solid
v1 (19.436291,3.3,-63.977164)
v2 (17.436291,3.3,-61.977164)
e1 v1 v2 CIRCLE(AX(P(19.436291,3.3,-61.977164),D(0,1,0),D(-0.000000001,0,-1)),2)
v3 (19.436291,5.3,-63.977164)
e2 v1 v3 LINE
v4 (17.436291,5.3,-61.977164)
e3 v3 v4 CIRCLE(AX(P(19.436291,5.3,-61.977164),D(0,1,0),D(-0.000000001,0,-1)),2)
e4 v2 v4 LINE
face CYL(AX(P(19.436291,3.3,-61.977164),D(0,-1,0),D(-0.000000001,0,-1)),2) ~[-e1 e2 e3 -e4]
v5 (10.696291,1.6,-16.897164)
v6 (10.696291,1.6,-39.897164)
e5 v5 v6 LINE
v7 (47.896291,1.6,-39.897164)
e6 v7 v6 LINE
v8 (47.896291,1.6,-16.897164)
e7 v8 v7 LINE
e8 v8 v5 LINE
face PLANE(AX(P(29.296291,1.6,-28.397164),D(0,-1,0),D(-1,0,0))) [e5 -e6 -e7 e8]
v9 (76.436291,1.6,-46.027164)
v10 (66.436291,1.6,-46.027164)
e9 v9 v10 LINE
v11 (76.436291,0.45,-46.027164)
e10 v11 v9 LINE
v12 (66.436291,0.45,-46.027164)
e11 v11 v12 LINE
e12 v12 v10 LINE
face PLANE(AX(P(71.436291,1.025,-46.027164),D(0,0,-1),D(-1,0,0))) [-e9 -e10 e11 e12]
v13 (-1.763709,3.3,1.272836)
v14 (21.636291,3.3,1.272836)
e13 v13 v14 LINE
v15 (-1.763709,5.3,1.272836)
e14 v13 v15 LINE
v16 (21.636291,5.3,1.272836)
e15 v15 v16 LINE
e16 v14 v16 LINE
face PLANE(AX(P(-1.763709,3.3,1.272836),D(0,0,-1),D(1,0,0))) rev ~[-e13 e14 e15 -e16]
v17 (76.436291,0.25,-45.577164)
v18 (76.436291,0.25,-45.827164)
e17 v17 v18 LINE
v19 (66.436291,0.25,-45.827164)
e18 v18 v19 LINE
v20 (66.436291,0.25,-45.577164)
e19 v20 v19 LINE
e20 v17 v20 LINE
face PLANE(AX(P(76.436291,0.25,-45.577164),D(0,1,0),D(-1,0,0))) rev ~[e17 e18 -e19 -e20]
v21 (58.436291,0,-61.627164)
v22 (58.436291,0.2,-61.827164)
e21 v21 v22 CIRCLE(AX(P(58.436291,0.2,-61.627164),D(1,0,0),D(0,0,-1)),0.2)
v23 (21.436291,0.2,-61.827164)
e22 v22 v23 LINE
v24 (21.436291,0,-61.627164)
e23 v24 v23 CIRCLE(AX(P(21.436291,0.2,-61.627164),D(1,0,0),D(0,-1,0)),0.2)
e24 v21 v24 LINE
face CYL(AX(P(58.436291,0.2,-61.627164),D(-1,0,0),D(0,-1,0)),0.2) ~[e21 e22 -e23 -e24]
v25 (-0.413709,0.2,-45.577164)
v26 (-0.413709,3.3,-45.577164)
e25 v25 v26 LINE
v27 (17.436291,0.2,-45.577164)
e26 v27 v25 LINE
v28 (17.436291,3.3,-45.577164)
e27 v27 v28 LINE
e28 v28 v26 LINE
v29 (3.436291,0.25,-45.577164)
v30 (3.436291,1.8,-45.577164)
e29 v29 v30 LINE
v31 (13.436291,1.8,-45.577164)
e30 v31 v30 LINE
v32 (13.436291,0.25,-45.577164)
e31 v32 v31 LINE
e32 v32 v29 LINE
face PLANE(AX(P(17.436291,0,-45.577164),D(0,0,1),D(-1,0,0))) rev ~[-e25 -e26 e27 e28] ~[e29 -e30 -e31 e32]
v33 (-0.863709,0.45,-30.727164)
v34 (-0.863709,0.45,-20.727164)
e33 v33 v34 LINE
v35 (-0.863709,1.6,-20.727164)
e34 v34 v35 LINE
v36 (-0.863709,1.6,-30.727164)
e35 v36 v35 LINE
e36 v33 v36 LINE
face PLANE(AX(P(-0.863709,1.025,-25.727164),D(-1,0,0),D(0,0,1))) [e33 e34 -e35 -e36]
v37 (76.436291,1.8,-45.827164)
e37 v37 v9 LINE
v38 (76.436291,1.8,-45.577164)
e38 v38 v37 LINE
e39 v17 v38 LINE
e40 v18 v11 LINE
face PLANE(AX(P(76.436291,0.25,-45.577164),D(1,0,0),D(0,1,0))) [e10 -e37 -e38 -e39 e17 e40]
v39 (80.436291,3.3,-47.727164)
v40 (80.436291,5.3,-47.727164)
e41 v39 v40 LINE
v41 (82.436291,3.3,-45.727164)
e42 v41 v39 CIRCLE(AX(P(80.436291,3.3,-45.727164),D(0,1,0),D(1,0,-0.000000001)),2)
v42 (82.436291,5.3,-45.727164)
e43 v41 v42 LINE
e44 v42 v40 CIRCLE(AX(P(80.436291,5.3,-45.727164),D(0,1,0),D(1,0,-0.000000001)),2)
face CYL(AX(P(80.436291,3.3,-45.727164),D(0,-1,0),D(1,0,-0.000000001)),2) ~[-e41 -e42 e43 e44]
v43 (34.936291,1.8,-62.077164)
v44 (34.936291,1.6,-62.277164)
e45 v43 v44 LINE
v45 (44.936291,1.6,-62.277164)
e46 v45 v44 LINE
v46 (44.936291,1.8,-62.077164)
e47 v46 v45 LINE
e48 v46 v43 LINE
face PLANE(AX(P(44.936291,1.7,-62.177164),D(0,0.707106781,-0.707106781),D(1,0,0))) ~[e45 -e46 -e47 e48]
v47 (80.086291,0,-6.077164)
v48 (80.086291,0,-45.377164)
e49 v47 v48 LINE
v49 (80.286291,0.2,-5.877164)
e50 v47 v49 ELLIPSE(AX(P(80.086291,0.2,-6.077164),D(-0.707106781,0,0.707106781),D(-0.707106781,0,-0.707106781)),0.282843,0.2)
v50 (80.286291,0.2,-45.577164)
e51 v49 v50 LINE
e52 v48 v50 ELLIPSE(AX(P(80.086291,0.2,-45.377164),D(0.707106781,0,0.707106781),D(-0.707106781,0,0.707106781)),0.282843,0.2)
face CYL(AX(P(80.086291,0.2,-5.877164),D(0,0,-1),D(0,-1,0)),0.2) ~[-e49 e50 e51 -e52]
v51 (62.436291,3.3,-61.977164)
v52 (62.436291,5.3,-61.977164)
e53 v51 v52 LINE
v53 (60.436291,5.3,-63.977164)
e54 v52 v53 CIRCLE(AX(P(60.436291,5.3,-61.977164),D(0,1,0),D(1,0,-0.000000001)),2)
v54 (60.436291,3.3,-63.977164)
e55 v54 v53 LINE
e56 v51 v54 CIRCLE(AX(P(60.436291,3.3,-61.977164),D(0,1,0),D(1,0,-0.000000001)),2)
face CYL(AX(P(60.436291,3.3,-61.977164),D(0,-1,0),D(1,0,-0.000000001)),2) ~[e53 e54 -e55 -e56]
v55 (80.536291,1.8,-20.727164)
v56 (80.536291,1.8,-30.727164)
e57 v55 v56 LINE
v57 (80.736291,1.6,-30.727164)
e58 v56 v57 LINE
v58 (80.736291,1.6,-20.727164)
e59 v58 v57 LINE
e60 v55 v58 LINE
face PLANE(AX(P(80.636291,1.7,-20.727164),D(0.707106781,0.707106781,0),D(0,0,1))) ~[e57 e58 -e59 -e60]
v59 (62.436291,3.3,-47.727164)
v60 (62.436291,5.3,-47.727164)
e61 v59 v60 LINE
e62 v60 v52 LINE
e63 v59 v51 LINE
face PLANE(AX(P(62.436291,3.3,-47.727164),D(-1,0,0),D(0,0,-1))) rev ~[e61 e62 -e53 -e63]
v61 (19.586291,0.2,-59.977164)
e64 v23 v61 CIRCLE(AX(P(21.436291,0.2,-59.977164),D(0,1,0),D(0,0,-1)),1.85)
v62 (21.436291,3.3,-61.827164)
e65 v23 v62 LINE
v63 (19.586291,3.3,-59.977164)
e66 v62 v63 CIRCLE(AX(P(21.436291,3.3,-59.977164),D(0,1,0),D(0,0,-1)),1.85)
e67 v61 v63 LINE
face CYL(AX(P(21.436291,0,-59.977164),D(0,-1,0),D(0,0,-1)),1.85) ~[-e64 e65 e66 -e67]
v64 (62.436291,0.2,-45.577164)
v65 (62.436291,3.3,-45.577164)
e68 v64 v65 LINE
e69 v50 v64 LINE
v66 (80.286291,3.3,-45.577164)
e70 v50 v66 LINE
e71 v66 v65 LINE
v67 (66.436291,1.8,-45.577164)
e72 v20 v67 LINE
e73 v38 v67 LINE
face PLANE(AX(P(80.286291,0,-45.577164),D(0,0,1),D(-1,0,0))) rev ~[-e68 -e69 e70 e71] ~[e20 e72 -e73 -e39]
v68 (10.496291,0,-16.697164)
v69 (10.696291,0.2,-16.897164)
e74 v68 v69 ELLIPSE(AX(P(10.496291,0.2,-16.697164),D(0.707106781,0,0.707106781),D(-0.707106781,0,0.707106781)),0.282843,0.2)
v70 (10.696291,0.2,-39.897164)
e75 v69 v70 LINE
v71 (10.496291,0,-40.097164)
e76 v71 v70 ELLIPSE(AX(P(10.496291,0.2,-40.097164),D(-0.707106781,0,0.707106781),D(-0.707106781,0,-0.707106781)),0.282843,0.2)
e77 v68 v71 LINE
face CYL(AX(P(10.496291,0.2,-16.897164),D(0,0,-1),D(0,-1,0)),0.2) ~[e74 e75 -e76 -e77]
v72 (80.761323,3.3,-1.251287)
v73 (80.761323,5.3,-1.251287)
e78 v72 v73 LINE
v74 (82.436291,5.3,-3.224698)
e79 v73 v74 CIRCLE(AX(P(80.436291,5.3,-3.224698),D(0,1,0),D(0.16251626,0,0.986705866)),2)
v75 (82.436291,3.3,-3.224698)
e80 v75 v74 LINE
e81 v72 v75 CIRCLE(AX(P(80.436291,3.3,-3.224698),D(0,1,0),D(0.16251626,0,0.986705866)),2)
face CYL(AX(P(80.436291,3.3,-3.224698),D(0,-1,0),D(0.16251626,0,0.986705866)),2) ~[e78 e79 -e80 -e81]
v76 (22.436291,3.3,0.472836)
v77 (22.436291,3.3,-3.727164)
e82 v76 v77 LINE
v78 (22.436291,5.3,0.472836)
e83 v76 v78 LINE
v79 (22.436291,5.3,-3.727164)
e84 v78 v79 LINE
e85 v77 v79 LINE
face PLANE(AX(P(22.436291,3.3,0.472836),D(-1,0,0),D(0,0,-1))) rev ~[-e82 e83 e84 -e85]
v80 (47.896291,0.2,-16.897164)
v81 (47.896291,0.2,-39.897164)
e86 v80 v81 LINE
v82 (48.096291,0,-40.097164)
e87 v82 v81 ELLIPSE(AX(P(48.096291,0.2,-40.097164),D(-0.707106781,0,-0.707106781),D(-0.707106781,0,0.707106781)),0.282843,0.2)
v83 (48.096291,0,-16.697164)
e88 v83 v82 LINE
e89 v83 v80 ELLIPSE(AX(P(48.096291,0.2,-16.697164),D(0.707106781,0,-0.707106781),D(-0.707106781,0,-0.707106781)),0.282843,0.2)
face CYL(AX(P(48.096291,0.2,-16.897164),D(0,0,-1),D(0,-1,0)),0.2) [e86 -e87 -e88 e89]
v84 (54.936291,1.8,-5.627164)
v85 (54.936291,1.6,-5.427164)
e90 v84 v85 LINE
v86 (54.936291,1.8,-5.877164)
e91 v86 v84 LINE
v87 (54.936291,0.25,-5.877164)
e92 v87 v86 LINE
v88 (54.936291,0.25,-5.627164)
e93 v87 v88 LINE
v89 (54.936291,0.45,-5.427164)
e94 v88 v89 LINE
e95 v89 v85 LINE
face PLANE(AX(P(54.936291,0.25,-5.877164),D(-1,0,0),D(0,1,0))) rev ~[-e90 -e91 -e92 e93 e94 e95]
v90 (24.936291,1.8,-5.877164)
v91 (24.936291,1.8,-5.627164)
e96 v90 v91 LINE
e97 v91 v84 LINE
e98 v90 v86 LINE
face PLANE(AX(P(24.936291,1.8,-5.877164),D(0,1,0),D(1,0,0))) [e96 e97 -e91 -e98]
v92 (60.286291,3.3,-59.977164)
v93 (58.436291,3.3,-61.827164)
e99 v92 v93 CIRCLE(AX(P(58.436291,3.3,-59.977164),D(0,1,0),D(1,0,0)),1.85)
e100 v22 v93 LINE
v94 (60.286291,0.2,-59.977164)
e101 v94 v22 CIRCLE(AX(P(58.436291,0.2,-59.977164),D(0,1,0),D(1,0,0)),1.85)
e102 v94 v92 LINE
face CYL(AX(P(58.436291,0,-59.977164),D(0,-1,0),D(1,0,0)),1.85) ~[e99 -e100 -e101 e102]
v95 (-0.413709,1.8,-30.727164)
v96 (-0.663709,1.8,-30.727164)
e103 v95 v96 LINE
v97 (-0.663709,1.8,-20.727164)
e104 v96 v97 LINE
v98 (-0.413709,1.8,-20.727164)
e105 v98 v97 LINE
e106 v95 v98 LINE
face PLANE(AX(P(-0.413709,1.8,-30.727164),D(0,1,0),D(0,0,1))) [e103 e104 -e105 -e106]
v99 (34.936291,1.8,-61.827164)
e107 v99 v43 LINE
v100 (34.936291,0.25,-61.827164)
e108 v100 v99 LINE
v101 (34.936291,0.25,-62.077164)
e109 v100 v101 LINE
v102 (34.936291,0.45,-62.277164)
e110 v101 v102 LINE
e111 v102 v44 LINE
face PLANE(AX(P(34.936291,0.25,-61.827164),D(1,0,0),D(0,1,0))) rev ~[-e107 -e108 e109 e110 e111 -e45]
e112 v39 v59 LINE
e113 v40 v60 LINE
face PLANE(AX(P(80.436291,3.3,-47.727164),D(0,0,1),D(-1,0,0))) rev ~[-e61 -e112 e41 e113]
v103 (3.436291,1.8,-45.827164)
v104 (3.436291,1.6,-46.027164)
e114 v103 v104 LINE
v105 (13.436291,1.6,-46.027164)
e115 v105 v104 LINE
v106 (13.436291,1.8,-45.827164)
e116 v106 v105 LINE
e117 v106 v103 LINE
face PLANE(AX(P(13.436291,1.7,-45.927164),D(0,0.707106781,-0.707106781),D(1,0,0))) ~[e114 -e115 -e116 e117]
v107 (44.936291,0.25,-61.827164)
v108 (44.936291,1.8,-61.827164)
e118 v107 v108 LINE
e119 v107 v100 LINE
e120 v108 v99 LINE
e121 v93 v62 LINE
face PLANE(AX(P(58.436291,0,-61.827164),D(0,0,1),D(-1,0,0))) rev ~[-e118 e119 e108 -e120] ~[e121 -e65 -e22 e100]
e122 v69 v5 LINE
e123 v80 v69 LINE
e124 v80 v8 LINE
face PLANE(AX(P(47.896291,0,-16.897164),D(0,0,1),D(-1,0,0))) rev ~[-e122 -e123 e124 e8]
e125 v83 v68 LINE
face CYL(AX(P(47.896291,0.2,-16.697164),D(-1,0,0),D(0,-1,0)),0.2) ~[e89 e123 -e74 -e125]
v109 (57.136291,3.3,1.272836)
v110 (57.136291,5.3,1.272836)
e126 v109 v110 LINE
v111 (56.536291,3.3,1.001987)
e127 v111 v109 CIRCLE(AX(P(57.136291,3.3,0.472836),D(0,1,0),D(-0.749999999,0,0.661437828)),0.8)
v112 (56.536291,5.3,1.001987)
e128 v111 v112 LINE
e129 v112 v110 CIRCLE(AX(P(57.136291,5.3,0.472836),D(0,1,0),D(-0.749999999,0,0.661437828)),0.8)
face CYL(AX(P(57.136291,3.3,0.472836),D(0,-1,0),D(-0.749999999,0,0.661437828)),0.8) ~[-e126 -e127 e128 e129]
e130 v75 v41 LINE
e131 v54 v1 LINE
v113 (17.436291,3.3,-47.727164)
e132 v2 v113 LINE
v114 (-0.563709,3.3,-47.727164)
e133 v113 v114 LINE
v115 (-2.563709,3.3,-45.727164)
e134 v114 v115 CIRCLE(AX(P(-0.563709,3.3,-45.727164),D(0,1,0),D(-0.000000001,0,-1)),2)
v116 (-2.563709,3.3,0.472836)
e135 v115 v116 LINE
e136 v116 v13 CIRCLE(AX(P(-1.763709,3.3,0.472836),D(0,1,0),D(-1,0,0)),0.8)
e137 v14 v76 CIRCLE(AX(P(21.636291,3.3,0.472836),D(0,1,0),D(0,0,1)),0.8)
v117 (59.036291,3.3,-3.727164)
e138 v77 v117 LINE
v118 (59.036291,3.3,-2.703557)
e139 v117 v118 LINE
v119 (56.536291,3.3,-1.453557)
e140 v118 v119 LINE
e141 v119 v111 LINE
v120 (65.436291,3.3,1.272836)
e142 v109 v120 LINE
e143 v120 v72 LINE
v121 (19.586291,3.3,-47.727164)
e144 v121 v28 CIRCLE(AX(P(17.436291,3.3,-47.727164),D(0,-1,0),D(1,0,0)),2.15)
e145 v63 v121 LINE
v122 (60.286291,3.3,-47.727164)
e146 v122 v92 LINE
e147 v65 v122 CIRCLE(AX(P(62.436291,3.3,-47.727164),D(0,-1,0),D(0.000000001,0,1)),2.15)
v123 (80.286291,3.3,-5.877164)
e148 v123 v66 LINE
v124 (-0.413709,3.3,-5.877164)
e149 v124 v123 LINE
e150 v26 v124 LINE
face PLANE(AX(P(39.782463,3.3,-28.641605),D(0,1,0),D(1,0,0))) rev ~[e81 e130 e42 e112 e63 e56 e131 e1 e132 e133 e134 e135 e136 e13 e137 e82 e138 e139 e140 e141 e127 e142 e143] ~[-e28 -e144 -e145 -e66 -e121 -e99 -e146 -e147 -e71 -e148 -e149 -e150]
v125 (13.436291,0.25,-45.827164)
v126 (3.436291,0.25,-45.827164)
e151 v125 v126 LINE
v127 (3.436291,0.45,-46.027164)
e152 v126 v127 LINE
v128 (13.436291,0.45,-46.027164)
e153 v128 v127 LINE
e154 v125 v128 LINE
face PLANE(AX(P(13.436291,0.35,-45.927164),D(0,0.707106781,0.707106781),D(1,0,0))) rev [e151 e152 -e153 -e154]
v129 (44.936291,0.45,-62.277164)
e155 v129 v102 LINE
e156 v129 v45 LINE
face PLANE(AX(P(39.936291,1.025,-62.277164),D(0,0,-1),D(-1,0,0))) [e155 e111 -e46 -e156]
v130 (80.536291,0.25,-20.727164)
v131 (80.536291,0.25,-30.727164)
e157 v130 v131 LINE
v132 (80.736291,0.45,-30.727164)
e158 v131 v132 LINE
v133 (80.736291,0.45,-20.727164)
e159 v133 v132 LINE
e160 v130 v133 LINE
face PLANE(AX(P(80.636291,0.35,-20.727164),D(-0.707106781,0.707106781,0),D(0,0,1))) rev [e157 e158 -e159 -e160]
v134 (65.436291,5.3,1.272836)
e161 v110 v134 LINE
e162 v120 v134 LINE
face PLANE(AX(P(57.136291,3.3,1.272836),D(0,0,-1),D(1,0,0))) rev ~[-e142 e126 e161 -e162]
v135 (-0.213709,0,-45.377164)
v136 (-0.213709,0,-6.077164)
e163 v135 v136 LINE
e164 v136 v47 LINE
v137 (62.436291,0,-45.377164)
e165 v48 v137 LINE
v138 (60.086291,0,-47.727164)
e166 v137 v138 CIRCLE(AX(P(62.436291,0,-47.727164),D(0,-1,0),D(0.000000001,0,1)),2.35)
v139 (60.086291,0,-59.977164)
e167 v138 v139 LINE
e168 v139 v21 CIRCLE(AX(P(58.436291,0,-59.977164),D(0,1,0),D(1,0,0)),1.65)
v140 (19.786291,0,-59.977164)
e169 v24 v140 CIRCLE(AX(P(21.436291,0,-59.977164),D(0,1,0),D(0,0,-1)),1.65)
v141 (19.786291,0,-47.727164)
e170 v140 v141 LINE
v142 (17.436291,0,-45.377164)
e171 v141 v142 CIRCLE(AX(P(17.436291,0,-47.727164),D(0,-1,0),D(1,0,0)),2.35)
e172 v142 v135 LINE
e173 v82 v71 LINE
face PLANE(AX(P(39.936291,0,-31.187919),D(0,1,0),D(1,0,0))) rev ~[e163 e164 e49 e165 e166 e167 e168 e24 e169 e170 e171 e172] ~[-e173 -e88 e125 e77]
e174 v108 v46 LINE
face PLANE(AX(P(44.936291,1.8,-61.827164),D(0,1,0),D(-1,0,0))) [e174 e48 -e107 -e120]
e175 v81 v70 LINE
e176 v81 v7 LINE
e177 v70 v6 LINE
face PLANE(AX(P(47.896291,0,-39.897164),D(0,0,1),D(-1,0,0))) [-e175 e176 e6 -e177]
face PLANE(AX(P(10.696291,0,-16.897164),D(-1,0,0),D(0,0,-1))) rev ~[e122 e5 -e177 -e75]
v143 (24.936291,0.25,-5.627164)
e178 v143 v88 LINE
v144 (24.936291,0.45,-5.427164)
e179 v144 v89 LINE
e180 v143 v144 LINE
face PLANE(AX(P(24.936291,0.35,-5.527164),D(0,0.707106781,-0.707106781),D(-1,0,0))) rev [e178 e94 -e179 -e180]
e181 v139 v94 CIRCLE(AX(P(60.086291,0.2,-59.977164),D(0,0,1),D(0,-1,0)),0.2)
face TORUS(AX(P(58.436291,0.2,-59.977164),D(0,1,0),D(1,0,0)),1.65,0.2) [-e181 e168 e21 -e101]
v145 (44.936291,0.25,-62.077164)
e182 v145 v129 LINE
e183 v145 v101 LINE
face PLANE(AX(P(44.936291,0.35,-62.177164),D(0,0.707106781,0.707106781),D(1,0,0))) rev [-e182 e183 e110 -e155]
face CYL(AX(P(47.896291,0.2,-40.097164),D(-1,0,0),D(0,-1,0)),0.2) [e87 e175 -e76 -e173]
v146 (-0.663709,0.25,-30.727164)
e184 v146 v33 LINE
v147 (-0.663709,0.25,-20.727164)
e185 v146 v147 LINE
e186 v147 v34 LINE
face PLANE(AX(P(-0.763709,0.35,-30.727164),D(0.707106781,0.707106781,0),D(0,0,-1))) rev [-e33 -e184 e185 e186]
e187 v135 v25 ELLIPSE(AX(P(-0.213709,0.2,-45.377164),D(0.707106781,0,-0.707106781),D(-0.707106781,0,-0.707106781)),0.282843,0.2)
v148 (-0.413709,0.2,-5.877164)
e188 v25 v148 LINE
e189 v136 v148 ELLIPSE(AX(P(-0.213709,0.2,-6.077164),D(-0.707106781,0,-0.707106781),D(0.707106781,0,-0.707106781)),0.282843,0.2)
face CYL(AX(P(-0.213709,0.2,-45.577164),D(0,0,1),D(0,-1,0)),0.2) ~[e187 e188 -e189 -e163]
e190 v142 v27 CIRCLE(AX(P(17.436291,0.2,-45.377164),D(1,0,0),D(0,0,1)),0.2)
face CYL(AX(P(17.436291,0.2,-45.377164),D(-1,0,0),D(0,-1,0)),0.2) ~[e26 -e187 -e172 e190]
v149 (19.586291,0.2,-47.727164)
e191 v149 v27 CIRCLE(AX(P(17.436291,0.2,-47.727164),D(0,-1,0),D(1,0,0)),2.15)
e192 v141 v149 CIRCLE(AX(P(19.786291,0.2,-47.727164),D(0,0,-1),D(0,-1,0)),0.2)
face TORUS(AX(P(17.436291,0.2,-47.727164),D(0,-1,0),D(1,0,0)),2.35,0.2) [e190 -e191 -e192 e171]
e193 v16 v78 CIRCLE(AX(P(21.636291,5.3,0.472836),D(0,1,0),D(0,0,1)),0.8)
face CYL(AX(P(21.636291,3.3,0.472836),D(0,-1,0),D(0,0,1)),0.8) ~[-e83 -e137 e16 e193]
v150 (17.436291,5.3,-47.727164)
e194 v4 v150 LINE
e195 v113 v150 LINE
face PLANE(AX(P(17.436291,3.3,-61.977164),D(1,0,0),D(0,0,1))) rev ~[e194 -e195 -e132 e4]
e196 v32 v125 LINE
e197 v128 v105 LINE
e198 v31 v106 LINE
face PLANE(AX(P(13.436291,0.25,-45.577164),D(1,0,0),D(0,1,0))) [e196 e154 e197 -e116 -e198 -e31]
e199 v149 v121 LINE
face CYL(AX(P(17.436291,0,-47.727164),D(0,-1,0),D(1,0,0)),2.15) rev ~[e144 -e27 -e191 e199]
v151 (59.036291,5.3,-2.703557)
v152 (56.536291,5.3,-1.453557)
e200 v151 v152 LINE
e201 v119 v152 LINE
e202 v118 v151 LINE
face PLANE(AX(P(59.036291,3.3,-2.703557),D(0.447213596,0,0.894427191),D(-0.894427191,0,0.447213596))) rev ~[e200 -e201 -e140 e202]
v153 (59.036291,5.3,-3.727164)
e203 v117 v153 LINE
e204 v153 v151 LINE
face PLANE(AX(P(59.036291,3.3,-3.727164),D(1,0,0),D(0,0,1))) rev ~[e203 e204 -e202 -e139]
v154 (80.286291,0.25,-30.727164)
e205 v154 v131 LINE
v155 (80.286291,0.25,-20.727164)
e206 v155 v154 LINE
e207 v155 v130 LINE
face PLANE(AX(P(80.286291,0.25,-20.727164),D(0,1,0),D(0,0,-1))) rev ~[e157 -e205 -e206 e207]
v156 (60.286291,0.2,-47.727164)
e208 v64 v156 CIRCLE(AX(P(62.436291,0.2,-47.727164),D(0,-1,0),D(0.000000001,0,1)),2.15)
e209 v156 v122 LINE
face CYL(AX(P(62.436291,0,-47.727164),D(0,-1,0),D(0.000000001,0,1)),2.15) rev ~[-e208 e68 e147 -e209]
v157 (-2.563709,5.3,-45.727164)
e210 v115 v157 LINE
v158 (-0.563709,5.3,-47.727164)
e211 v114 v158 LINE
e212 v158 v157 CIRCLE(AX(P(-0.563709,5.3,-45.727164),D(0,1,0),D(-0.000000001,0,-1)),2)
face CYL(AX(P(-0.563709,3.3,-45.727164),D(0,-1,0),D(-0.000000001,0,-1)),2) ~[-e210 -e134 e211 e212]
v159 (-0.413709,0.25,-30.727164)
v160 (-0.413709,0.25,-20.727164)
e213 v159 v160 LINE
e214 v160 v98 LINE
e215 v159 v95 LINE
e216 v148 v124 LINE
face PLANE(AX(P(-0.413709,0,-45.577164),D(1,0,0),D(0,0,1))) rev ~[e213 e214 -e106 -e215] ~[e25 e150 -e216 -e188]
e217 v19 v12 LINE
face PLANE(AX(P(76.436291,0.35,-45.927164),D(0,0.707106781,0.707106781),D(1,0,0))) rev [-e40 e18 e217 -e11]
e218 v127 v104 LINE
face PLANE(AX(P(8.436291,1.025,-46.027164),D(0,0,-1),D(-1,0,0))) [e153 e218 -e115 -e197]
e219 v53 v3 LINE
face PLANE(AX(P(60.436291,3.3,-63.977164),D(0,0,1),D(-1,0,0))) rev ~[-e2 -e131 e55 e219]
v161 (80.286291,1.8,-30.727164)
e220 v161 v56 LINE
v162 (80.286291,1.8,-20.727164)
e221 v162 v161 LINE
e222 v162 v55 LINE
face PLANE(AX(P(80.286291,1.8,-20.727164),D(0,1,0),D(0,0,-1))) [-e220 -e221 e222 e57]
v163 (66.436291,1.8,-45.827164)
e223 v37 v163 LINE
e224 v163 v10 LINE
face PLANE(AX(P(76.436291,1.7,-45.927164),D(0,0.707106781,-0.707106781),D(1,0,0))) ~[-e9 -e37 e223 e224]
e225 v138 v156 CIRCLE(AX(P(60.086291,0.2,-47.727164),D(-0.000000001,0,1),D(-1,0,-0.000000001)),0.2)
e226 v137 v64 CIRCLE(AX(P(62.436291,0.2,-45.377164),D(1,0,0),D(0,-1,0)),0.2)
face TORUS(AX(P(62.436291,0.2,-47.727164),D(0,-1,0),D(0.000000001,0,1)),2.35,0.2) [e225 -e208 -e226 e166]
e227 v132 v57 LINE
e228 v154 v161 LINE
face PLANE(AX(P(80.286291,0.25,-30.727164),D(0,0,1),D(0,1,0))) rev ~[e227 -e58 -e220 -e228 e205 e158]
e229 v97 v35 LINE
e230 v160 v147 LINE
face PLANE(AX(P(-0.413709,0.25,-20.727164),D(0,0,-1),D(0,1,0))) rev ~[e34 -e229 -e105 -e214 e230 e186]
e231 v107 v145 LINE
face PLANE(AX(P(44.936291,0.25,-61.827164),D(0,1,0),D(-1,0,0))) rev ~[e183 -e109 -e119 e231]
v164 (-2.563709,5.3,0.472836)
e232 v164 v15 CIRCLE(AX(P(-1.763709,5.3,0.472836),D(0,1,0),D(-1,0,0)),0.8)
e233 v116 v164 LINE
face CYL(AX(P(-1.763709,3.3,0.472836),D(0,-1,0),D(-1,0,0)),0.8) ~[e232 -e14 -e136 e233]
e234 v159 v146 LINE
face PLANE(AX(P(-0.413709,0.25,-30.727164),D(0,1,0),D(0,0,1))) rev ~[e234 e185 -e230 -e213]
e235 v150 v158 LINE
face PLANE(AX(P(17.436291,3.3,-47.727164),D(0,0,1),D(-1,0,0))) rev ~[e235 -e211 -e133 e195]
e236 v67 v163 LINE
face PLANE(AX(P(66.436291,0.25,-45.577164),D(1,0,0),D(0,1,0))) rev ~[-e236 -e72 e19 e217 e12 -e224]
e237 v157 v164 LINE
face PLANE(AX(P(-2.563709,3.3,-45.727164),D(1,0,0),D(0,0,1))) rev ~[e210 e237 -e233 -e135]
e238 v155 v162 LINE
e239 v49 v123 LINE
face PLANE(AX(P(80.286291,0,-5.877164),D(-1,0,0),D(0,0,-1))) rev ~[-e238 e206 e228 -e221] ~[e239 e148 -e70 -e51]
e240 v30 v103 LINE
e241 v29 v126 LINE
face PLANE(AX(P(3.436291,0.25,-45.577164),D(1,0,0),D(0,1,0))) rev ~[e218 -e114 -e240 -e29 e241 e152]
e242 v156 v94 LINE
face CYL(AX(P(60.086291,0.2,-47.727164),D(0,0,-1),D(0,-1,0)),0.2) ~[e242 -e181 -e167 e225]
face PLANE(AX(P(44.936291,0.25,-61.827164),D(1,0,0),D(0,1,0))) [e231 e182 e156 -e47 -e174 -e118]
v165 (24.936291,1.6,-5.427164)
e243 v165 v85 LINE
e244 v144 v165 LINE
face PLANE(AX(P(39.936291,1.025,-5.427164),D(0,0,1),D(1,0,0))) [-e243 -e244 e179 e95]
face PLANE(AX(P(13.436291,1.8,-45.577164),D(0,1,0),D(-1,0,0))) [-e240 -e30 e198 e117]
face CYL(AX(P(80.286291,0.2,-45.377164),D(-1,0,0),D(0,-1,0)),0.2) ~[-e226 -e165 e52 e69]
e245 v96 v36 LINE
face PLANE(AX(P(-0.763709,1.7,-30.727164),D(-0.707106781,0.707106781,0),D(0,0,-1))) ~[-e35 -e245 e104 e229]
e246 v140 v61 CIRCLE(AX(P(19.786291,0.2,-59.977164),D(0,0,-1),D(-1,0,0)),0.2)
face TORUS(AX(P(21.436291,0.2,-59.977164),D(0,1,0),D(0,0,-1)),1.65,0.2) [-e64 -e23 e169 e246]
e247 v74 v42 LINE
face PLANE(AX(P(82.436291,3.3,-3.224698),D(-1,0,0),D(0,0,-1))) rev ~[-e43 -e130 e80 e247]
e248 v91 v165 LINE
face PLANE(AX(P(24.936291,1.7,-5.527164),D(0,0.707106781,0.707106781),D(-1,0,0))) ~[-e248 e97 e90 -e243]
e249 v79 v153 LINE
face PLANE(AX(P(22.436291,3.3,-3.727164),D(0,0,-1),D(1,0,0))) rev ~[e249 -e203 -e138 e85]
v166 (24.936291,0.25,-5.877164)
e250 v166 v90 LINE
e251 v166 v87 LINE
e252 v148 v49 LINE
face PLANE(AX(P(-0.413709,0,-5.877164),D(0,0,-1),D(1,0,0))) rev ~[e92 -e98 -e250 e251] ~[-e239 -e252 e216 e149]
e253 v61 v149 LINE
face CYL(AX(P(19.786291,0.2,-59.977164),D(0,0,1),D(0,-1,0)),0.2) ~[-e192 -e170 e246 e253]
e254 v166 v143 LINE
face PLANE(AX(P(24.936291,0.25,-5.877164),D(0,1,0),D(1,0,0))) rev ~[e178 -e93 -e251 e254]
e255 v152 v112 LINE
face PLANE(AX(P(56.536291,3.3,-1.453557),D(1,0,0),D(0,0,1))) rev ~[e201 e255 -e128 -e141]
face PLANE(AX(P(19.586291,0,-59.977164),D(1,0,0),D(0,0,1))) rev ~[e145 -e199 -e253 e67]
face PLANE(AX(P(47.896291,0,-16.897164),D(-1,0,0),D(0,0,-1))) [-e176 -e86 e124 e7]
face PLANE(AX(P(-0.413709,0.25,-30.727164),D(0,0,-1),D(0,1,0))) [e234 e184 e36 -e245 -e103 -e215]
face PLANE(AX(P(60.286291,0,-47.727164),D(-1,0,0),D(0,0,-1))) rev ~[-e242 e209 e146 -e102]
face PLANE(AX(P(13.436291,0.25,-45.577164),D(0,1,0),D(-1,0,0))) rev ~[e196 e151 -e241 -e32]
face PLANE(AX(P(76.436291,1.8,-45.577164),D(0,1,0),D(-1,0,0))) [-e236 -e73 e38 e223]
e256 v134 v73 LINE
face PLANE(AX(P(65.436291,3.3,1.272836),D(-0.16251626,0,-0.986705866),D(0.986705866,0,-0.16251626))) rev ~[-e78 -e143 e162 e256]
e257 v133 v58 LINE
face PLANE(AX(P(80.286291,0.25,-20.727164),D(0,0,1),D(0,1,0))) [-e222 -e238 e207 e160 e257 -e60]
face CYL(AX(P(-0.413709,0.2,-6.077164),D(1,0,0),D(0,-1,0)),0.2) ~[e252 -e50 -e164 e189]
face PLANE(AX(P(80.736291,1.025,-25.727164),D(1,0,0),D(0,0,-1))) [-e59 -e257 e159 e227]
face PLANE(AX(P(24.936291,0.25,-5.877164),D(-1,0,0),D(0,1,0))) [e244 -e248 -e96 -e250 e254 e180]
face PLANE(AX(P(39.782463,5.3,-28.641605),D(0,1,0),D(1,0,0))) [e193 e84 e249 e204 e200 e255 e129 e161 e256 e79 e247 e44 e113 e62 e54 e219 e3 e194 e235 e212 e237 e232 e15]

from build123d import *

# Parameters (mm, degrees)
BOSS_EXTRUDE1_DEPTH = 3.3
BOSS_EXTRUDE2_DEPTH = 2
SKETCH5_W           = 10
SKETCH5_H           = 1.55
BOSS_EXTRUDE3_DEPTH = 0.45
SKETCH6_W           = 10
SKETCH6_H           = 1.55
BOSS_EXTRUDE4_DEPTH = 0.45
SKETCH7_W           = 10
SKETCH7_H           = 1.55
BOSS_EXTRUDE5_DEPTH = 0.45
SKETCH8_W           = 10
SKETCH8_H           = 1.55
BOSS_EXTRUDE6_DEPTH = 0.45
SKETCH9_W           = 30
SKETCH9_H           = 1.55
BOSS_EXTRUDE7_DEPTH = 0.45
SKETCH10_W          = 10
SKETCH10_H          = 1.55
BOSS_EXTRUDE8_DEPTH = 0.45
CHAMFER1_SIZE       = 0.2
SKETCH11_W          = 37.2
SKETCH11_H          = 23
CUT_EXTRUDE1_DEPTH  = 1.6
FILLET1_R           = 0.2


with BuildPart() as part:
    # Sketch1 → Boss-Extrude1 (new body)
    with BuildSketch(Plane(origin=(0, 0, 0), x_dir=(1, 0, 0), z_dir=(0, 1, 0))):
        with BuildLine():
            Line((19.586290833, 59.977163541), (19.586290833, 47.727163541))
            ThreePointArc((19.586290833, 47.727163541), (18.956570412, 46.206883961), (17.436290833, 45.577163541))
            Line((17.436290833, 45.577163541), (-0.413709167, 45.577163541))
            Line((-0.413709167, 45.577163541), (-0.413709167, 5.877163541))
            Line((-0.413709167, 5.877163541), (80.286290833, 5.877163541))
            Line((80.286290833, 5.877163541), (80.286290833, 45.577163541))
            Line((80.286290833, 45.577163541), (62.436290833, 45.577163541))
            ThreePointArc((62.436290833, 45.577163541), (60.916011253, 46.206883961), (60.286290833, 47.727163541))
            Line((60.286290833, 47.727163541), (60.286290833, 59.977163541))
            ThreePointArc((60.286290833, 59.977163541), (59.744438378, 61.285311086), (58.436290833, 61.827163541))
            Line((58.436290833, 61.827163541), (21.436290833, 61.827163541))
            ThreePointArc((21.436290833, 61.827163541), (20.128143288, 61.285311086), (19.586290833, 59.977163541))
        make_face()
    extrude(amount=BOSS_EXTRUDE1_DEPTH)

    # Sketch2 → Boss-Extrude2 (add)
    with BuildSketch(Plane(origin=(0, 3.3, 0), x_dir=(1, 0, 0), z_dir=(0, 1, 0))):
        with BuildLine():
            Line((57.136290833, -1.272836459), (65.436290833, -1.272836459))
            Line((65.436290833, -1.272836459), (80.761323353, 1.251286544))
            ThreePointArc((80.761323353, 1.251286544), (81.961096565, 1.930492929), (82.436290833, 3.224698275))
            Line((82.436290833, 3.224698275), (82.436290833, 45.727163541))
            ThreePointArc((82.436290833, 45.727163541), (81.850504395, 47.141377103), (80.436290833, 47.727163541))
            Line((80.436290833, 47.727163541), (66.436290833, 47.727163541))
            Line((66.436290833, 47.727163541), (62.436290833, 47.727163541))
            Line((62.436290833, 47.727163541), (62.436290833, 61.977163541))
            ThreePointArc((62.436290833, 61.977163541), (61.850504395, 63.391377103), (60.436290833, 63.977163541))
            Line((60.436290833, 63.977163541), (19.436290833, 63.977163541))
            ThreePointArc((19.436290833, 63.977163541), (18.022077271, 63.391377103), (17.436290833, 61.977163541))
            Line((17.436290833, 61.977163541), (17.436290833, 47.727163541))
            Line((17.436290833, 47.727163541), (3.436290833, 47.727163541))
            Line((3.436290833, 47.727163541), (-0.563709167, 47.727163541))
            ThreePointArc((-0.563709167, 47.727163541), (-1.977922729, 47.141377103), (-2.563709167, 45.727163541))
            Line((-2.563709167, 45.727163541), (-2.563709167, -0.472836459))
            ThreePointArc((-2.563709167, -0.472836459), (-2.329394592, -1.038521884), (-1.763709167, -1.272836459))
            Line((-1.763709167, -1.272836459), (21.636290833, -1.272836459))
            ThreePointArc((21.636290833, -1.272836459), (22.201976258, -1.038521884), (22.436290833, -0.472836459))
            Line((22.436290833, -0.472836459), (22.436290833, 3.727163541))
            Line((22.436290833, 3.727163541), (59.036290833, 3.727163541))
            Line((59.036290833, 3.727163541), (59.036290833, 2.703556743))
            Line((59.036290833, 2.703556743), (56.536290833, 1.453556743))
            Line((56.536290833, 1.453556743), (56.536290833, -1.001986721))
            ThreePointArc((56.536290833, -1.001986721), (56.807140571, -1.201986721), (57.136290833, -1.272836459))
        make_face()
    extrude(amount=BOSS_EXTRUDE2_DEPTH)

    # Sketch5 → Boss-Extrude3 (add)
    with BuildSketch(Plane(origin=(0, 0, -45.577163541), x_dir=(-1, 0, 0), z_dir=(0, 0, -1))):
        with Locations((-71.436290833, 1.025)):
            Rectangle(SKETCH5_W, SKETCH5_H)
        with Locations((-8.436290833, 1.025)):
            Rectangle(SKETCH5_W, SKETCH5_H)
    extrude(amount=BOSS_EXTRUDE3_DEPTH)

    # Sketch6 → Boss-Extrude4 (add)
    with BuildSketch(Plane(origin=(0, 0, -61.827163541), x_dir=(-1, 0, 0), z_dir=(0, 0, -1))):
        with Locations((-39.936290833, 1.025)):
            Rectangle(SKETCH6_W, SKETCH6_H)
    extrude(amount=BOSS_EXTRUDE4_DEPTH)

    # Sketch7 → Boss-Extrude5 (add)
    with BuildSketch(Plane(origin=(-0.413709167, 0, 0.363709167), x_dir=(0, 0, 1), z_dir=(-1, 0, 0))):
        with Locations((-26.090872708, 1.025)):
            Rectangle(SKETCH7_W, SKETCH7_H)
    extrude(amount=BOSS_EXTRUDE5_DEPTH)

    # Sketch8 → Boss-Extrude6 (add)
    with BuildSketch(Plane(origin=(80.286290833, 0, -80.236290833), x_dir=(0, 0, 1), z_dir=(-1, 0, 0))):
        with Locations((54.509127292, 1.025)):
            Rectangle(SKETCH8_W, SKETCH8_H)
    extrude(amount=BOSS_EXTRUDE6_DEPTH)

    # Sketch9 → Boss-Extrude7 (add)
    with BuildSketch(Plane.XY.offset(-5.877163541)):
        with Locations((39.936290833, 1.025)):
            Rectangle(SKETCH9_W, SKETCH9_H)
    extrude(amount=BOSS_EXTRUDE7_DEPTH)

    # Sketch10 → Boss-Extrude8 (add)
    with BuildSketch(Plane(origin=(80.286290833, 0, 0), x_dir=(0, 0, -1), z_dir=(1, 0, 0))):
        with Locations((25.727163541, 1.025)):
            Rectangle(SKETCH10_W, SKETCH10_H)
    extrude(amount=BOSS_EXTRUDE8_DEPTH)

    # Chamfer1
    chamfer1_edges = [part.edges().sort_by_distance(p)[0] for p in [
        (8.436290833, 1.8, -46.027163541),
        (8.436290833, 0.25, -46.027163541),
        (39.936290833, 0.25, -62.277163541),
        (39.936290833, 1.8, -62.277163541),
        (-0.863709167, 0.25, -25.727163541),
        (-0.863709167, 1.8, -25.727163541),
        (39.936290833, 1.8, -5.427163541),
        (39.936290833, 0.25, -5.427163541),
        (80.736290833, 0.25, -25.727163541),
        (80.736290833, 1.8, -25.727163541),
        (71.436290833, 0.25, -46.027163541),
        (71.436290833, 1.8, -46.027163541),
    ]]
    chamfer(chamfer1_edges, length=CHAMFER1_SIZE)

    # Sketch11 → Cut-Extrude1 (cut)
    with BuildSketch(Plane(origin=(0, 0, 0), x_dir=(-1, 0, 0), z_dir=(0, -1, 0))):
        with Locations((-29.296290833, 28.397163541)):
            Rectangle(SKETCH11_W, SKETCH11_H)
    extrude(amount=-CUT_EXTRUDE1_DEPTH, mode=Mode.SUBTRACT)

    # Fillet1
    fillet1_edges = [part.edges().sort_by_distance(p)[0] for p in [
        (19.586290833, 0, -53.852163541),
        (20.128143288, 0, -61.285311086),
        (39.936290833, 0, -61.827163541),
        (59.744438378, 0, -61.285311086),
        (60.286290833, 0, -53.852163541),
        (60.916011253, 0, -46.206883961),
        (71.361290833, 0, -45.577163541),
        (80.286290833, 0, -25.727163541),
        (39.936290833, 0, -5.877163541),
        (-0.413709167, 0, -25.727163541),
        (8.511290833, 0, -45.577163541),
        (18.956570412, 0, -46.206883961),
        (29.296290833, 0, -16.897163541),
        (10.696290833, 0, -28.397163541),
        (29.296290833, 0, -39.897163541),
        (47.896290833, 0, -28.397163541),
    ]]
    fillet(fillet1_edges, radius=FILLET1_R)


solid = part.part
